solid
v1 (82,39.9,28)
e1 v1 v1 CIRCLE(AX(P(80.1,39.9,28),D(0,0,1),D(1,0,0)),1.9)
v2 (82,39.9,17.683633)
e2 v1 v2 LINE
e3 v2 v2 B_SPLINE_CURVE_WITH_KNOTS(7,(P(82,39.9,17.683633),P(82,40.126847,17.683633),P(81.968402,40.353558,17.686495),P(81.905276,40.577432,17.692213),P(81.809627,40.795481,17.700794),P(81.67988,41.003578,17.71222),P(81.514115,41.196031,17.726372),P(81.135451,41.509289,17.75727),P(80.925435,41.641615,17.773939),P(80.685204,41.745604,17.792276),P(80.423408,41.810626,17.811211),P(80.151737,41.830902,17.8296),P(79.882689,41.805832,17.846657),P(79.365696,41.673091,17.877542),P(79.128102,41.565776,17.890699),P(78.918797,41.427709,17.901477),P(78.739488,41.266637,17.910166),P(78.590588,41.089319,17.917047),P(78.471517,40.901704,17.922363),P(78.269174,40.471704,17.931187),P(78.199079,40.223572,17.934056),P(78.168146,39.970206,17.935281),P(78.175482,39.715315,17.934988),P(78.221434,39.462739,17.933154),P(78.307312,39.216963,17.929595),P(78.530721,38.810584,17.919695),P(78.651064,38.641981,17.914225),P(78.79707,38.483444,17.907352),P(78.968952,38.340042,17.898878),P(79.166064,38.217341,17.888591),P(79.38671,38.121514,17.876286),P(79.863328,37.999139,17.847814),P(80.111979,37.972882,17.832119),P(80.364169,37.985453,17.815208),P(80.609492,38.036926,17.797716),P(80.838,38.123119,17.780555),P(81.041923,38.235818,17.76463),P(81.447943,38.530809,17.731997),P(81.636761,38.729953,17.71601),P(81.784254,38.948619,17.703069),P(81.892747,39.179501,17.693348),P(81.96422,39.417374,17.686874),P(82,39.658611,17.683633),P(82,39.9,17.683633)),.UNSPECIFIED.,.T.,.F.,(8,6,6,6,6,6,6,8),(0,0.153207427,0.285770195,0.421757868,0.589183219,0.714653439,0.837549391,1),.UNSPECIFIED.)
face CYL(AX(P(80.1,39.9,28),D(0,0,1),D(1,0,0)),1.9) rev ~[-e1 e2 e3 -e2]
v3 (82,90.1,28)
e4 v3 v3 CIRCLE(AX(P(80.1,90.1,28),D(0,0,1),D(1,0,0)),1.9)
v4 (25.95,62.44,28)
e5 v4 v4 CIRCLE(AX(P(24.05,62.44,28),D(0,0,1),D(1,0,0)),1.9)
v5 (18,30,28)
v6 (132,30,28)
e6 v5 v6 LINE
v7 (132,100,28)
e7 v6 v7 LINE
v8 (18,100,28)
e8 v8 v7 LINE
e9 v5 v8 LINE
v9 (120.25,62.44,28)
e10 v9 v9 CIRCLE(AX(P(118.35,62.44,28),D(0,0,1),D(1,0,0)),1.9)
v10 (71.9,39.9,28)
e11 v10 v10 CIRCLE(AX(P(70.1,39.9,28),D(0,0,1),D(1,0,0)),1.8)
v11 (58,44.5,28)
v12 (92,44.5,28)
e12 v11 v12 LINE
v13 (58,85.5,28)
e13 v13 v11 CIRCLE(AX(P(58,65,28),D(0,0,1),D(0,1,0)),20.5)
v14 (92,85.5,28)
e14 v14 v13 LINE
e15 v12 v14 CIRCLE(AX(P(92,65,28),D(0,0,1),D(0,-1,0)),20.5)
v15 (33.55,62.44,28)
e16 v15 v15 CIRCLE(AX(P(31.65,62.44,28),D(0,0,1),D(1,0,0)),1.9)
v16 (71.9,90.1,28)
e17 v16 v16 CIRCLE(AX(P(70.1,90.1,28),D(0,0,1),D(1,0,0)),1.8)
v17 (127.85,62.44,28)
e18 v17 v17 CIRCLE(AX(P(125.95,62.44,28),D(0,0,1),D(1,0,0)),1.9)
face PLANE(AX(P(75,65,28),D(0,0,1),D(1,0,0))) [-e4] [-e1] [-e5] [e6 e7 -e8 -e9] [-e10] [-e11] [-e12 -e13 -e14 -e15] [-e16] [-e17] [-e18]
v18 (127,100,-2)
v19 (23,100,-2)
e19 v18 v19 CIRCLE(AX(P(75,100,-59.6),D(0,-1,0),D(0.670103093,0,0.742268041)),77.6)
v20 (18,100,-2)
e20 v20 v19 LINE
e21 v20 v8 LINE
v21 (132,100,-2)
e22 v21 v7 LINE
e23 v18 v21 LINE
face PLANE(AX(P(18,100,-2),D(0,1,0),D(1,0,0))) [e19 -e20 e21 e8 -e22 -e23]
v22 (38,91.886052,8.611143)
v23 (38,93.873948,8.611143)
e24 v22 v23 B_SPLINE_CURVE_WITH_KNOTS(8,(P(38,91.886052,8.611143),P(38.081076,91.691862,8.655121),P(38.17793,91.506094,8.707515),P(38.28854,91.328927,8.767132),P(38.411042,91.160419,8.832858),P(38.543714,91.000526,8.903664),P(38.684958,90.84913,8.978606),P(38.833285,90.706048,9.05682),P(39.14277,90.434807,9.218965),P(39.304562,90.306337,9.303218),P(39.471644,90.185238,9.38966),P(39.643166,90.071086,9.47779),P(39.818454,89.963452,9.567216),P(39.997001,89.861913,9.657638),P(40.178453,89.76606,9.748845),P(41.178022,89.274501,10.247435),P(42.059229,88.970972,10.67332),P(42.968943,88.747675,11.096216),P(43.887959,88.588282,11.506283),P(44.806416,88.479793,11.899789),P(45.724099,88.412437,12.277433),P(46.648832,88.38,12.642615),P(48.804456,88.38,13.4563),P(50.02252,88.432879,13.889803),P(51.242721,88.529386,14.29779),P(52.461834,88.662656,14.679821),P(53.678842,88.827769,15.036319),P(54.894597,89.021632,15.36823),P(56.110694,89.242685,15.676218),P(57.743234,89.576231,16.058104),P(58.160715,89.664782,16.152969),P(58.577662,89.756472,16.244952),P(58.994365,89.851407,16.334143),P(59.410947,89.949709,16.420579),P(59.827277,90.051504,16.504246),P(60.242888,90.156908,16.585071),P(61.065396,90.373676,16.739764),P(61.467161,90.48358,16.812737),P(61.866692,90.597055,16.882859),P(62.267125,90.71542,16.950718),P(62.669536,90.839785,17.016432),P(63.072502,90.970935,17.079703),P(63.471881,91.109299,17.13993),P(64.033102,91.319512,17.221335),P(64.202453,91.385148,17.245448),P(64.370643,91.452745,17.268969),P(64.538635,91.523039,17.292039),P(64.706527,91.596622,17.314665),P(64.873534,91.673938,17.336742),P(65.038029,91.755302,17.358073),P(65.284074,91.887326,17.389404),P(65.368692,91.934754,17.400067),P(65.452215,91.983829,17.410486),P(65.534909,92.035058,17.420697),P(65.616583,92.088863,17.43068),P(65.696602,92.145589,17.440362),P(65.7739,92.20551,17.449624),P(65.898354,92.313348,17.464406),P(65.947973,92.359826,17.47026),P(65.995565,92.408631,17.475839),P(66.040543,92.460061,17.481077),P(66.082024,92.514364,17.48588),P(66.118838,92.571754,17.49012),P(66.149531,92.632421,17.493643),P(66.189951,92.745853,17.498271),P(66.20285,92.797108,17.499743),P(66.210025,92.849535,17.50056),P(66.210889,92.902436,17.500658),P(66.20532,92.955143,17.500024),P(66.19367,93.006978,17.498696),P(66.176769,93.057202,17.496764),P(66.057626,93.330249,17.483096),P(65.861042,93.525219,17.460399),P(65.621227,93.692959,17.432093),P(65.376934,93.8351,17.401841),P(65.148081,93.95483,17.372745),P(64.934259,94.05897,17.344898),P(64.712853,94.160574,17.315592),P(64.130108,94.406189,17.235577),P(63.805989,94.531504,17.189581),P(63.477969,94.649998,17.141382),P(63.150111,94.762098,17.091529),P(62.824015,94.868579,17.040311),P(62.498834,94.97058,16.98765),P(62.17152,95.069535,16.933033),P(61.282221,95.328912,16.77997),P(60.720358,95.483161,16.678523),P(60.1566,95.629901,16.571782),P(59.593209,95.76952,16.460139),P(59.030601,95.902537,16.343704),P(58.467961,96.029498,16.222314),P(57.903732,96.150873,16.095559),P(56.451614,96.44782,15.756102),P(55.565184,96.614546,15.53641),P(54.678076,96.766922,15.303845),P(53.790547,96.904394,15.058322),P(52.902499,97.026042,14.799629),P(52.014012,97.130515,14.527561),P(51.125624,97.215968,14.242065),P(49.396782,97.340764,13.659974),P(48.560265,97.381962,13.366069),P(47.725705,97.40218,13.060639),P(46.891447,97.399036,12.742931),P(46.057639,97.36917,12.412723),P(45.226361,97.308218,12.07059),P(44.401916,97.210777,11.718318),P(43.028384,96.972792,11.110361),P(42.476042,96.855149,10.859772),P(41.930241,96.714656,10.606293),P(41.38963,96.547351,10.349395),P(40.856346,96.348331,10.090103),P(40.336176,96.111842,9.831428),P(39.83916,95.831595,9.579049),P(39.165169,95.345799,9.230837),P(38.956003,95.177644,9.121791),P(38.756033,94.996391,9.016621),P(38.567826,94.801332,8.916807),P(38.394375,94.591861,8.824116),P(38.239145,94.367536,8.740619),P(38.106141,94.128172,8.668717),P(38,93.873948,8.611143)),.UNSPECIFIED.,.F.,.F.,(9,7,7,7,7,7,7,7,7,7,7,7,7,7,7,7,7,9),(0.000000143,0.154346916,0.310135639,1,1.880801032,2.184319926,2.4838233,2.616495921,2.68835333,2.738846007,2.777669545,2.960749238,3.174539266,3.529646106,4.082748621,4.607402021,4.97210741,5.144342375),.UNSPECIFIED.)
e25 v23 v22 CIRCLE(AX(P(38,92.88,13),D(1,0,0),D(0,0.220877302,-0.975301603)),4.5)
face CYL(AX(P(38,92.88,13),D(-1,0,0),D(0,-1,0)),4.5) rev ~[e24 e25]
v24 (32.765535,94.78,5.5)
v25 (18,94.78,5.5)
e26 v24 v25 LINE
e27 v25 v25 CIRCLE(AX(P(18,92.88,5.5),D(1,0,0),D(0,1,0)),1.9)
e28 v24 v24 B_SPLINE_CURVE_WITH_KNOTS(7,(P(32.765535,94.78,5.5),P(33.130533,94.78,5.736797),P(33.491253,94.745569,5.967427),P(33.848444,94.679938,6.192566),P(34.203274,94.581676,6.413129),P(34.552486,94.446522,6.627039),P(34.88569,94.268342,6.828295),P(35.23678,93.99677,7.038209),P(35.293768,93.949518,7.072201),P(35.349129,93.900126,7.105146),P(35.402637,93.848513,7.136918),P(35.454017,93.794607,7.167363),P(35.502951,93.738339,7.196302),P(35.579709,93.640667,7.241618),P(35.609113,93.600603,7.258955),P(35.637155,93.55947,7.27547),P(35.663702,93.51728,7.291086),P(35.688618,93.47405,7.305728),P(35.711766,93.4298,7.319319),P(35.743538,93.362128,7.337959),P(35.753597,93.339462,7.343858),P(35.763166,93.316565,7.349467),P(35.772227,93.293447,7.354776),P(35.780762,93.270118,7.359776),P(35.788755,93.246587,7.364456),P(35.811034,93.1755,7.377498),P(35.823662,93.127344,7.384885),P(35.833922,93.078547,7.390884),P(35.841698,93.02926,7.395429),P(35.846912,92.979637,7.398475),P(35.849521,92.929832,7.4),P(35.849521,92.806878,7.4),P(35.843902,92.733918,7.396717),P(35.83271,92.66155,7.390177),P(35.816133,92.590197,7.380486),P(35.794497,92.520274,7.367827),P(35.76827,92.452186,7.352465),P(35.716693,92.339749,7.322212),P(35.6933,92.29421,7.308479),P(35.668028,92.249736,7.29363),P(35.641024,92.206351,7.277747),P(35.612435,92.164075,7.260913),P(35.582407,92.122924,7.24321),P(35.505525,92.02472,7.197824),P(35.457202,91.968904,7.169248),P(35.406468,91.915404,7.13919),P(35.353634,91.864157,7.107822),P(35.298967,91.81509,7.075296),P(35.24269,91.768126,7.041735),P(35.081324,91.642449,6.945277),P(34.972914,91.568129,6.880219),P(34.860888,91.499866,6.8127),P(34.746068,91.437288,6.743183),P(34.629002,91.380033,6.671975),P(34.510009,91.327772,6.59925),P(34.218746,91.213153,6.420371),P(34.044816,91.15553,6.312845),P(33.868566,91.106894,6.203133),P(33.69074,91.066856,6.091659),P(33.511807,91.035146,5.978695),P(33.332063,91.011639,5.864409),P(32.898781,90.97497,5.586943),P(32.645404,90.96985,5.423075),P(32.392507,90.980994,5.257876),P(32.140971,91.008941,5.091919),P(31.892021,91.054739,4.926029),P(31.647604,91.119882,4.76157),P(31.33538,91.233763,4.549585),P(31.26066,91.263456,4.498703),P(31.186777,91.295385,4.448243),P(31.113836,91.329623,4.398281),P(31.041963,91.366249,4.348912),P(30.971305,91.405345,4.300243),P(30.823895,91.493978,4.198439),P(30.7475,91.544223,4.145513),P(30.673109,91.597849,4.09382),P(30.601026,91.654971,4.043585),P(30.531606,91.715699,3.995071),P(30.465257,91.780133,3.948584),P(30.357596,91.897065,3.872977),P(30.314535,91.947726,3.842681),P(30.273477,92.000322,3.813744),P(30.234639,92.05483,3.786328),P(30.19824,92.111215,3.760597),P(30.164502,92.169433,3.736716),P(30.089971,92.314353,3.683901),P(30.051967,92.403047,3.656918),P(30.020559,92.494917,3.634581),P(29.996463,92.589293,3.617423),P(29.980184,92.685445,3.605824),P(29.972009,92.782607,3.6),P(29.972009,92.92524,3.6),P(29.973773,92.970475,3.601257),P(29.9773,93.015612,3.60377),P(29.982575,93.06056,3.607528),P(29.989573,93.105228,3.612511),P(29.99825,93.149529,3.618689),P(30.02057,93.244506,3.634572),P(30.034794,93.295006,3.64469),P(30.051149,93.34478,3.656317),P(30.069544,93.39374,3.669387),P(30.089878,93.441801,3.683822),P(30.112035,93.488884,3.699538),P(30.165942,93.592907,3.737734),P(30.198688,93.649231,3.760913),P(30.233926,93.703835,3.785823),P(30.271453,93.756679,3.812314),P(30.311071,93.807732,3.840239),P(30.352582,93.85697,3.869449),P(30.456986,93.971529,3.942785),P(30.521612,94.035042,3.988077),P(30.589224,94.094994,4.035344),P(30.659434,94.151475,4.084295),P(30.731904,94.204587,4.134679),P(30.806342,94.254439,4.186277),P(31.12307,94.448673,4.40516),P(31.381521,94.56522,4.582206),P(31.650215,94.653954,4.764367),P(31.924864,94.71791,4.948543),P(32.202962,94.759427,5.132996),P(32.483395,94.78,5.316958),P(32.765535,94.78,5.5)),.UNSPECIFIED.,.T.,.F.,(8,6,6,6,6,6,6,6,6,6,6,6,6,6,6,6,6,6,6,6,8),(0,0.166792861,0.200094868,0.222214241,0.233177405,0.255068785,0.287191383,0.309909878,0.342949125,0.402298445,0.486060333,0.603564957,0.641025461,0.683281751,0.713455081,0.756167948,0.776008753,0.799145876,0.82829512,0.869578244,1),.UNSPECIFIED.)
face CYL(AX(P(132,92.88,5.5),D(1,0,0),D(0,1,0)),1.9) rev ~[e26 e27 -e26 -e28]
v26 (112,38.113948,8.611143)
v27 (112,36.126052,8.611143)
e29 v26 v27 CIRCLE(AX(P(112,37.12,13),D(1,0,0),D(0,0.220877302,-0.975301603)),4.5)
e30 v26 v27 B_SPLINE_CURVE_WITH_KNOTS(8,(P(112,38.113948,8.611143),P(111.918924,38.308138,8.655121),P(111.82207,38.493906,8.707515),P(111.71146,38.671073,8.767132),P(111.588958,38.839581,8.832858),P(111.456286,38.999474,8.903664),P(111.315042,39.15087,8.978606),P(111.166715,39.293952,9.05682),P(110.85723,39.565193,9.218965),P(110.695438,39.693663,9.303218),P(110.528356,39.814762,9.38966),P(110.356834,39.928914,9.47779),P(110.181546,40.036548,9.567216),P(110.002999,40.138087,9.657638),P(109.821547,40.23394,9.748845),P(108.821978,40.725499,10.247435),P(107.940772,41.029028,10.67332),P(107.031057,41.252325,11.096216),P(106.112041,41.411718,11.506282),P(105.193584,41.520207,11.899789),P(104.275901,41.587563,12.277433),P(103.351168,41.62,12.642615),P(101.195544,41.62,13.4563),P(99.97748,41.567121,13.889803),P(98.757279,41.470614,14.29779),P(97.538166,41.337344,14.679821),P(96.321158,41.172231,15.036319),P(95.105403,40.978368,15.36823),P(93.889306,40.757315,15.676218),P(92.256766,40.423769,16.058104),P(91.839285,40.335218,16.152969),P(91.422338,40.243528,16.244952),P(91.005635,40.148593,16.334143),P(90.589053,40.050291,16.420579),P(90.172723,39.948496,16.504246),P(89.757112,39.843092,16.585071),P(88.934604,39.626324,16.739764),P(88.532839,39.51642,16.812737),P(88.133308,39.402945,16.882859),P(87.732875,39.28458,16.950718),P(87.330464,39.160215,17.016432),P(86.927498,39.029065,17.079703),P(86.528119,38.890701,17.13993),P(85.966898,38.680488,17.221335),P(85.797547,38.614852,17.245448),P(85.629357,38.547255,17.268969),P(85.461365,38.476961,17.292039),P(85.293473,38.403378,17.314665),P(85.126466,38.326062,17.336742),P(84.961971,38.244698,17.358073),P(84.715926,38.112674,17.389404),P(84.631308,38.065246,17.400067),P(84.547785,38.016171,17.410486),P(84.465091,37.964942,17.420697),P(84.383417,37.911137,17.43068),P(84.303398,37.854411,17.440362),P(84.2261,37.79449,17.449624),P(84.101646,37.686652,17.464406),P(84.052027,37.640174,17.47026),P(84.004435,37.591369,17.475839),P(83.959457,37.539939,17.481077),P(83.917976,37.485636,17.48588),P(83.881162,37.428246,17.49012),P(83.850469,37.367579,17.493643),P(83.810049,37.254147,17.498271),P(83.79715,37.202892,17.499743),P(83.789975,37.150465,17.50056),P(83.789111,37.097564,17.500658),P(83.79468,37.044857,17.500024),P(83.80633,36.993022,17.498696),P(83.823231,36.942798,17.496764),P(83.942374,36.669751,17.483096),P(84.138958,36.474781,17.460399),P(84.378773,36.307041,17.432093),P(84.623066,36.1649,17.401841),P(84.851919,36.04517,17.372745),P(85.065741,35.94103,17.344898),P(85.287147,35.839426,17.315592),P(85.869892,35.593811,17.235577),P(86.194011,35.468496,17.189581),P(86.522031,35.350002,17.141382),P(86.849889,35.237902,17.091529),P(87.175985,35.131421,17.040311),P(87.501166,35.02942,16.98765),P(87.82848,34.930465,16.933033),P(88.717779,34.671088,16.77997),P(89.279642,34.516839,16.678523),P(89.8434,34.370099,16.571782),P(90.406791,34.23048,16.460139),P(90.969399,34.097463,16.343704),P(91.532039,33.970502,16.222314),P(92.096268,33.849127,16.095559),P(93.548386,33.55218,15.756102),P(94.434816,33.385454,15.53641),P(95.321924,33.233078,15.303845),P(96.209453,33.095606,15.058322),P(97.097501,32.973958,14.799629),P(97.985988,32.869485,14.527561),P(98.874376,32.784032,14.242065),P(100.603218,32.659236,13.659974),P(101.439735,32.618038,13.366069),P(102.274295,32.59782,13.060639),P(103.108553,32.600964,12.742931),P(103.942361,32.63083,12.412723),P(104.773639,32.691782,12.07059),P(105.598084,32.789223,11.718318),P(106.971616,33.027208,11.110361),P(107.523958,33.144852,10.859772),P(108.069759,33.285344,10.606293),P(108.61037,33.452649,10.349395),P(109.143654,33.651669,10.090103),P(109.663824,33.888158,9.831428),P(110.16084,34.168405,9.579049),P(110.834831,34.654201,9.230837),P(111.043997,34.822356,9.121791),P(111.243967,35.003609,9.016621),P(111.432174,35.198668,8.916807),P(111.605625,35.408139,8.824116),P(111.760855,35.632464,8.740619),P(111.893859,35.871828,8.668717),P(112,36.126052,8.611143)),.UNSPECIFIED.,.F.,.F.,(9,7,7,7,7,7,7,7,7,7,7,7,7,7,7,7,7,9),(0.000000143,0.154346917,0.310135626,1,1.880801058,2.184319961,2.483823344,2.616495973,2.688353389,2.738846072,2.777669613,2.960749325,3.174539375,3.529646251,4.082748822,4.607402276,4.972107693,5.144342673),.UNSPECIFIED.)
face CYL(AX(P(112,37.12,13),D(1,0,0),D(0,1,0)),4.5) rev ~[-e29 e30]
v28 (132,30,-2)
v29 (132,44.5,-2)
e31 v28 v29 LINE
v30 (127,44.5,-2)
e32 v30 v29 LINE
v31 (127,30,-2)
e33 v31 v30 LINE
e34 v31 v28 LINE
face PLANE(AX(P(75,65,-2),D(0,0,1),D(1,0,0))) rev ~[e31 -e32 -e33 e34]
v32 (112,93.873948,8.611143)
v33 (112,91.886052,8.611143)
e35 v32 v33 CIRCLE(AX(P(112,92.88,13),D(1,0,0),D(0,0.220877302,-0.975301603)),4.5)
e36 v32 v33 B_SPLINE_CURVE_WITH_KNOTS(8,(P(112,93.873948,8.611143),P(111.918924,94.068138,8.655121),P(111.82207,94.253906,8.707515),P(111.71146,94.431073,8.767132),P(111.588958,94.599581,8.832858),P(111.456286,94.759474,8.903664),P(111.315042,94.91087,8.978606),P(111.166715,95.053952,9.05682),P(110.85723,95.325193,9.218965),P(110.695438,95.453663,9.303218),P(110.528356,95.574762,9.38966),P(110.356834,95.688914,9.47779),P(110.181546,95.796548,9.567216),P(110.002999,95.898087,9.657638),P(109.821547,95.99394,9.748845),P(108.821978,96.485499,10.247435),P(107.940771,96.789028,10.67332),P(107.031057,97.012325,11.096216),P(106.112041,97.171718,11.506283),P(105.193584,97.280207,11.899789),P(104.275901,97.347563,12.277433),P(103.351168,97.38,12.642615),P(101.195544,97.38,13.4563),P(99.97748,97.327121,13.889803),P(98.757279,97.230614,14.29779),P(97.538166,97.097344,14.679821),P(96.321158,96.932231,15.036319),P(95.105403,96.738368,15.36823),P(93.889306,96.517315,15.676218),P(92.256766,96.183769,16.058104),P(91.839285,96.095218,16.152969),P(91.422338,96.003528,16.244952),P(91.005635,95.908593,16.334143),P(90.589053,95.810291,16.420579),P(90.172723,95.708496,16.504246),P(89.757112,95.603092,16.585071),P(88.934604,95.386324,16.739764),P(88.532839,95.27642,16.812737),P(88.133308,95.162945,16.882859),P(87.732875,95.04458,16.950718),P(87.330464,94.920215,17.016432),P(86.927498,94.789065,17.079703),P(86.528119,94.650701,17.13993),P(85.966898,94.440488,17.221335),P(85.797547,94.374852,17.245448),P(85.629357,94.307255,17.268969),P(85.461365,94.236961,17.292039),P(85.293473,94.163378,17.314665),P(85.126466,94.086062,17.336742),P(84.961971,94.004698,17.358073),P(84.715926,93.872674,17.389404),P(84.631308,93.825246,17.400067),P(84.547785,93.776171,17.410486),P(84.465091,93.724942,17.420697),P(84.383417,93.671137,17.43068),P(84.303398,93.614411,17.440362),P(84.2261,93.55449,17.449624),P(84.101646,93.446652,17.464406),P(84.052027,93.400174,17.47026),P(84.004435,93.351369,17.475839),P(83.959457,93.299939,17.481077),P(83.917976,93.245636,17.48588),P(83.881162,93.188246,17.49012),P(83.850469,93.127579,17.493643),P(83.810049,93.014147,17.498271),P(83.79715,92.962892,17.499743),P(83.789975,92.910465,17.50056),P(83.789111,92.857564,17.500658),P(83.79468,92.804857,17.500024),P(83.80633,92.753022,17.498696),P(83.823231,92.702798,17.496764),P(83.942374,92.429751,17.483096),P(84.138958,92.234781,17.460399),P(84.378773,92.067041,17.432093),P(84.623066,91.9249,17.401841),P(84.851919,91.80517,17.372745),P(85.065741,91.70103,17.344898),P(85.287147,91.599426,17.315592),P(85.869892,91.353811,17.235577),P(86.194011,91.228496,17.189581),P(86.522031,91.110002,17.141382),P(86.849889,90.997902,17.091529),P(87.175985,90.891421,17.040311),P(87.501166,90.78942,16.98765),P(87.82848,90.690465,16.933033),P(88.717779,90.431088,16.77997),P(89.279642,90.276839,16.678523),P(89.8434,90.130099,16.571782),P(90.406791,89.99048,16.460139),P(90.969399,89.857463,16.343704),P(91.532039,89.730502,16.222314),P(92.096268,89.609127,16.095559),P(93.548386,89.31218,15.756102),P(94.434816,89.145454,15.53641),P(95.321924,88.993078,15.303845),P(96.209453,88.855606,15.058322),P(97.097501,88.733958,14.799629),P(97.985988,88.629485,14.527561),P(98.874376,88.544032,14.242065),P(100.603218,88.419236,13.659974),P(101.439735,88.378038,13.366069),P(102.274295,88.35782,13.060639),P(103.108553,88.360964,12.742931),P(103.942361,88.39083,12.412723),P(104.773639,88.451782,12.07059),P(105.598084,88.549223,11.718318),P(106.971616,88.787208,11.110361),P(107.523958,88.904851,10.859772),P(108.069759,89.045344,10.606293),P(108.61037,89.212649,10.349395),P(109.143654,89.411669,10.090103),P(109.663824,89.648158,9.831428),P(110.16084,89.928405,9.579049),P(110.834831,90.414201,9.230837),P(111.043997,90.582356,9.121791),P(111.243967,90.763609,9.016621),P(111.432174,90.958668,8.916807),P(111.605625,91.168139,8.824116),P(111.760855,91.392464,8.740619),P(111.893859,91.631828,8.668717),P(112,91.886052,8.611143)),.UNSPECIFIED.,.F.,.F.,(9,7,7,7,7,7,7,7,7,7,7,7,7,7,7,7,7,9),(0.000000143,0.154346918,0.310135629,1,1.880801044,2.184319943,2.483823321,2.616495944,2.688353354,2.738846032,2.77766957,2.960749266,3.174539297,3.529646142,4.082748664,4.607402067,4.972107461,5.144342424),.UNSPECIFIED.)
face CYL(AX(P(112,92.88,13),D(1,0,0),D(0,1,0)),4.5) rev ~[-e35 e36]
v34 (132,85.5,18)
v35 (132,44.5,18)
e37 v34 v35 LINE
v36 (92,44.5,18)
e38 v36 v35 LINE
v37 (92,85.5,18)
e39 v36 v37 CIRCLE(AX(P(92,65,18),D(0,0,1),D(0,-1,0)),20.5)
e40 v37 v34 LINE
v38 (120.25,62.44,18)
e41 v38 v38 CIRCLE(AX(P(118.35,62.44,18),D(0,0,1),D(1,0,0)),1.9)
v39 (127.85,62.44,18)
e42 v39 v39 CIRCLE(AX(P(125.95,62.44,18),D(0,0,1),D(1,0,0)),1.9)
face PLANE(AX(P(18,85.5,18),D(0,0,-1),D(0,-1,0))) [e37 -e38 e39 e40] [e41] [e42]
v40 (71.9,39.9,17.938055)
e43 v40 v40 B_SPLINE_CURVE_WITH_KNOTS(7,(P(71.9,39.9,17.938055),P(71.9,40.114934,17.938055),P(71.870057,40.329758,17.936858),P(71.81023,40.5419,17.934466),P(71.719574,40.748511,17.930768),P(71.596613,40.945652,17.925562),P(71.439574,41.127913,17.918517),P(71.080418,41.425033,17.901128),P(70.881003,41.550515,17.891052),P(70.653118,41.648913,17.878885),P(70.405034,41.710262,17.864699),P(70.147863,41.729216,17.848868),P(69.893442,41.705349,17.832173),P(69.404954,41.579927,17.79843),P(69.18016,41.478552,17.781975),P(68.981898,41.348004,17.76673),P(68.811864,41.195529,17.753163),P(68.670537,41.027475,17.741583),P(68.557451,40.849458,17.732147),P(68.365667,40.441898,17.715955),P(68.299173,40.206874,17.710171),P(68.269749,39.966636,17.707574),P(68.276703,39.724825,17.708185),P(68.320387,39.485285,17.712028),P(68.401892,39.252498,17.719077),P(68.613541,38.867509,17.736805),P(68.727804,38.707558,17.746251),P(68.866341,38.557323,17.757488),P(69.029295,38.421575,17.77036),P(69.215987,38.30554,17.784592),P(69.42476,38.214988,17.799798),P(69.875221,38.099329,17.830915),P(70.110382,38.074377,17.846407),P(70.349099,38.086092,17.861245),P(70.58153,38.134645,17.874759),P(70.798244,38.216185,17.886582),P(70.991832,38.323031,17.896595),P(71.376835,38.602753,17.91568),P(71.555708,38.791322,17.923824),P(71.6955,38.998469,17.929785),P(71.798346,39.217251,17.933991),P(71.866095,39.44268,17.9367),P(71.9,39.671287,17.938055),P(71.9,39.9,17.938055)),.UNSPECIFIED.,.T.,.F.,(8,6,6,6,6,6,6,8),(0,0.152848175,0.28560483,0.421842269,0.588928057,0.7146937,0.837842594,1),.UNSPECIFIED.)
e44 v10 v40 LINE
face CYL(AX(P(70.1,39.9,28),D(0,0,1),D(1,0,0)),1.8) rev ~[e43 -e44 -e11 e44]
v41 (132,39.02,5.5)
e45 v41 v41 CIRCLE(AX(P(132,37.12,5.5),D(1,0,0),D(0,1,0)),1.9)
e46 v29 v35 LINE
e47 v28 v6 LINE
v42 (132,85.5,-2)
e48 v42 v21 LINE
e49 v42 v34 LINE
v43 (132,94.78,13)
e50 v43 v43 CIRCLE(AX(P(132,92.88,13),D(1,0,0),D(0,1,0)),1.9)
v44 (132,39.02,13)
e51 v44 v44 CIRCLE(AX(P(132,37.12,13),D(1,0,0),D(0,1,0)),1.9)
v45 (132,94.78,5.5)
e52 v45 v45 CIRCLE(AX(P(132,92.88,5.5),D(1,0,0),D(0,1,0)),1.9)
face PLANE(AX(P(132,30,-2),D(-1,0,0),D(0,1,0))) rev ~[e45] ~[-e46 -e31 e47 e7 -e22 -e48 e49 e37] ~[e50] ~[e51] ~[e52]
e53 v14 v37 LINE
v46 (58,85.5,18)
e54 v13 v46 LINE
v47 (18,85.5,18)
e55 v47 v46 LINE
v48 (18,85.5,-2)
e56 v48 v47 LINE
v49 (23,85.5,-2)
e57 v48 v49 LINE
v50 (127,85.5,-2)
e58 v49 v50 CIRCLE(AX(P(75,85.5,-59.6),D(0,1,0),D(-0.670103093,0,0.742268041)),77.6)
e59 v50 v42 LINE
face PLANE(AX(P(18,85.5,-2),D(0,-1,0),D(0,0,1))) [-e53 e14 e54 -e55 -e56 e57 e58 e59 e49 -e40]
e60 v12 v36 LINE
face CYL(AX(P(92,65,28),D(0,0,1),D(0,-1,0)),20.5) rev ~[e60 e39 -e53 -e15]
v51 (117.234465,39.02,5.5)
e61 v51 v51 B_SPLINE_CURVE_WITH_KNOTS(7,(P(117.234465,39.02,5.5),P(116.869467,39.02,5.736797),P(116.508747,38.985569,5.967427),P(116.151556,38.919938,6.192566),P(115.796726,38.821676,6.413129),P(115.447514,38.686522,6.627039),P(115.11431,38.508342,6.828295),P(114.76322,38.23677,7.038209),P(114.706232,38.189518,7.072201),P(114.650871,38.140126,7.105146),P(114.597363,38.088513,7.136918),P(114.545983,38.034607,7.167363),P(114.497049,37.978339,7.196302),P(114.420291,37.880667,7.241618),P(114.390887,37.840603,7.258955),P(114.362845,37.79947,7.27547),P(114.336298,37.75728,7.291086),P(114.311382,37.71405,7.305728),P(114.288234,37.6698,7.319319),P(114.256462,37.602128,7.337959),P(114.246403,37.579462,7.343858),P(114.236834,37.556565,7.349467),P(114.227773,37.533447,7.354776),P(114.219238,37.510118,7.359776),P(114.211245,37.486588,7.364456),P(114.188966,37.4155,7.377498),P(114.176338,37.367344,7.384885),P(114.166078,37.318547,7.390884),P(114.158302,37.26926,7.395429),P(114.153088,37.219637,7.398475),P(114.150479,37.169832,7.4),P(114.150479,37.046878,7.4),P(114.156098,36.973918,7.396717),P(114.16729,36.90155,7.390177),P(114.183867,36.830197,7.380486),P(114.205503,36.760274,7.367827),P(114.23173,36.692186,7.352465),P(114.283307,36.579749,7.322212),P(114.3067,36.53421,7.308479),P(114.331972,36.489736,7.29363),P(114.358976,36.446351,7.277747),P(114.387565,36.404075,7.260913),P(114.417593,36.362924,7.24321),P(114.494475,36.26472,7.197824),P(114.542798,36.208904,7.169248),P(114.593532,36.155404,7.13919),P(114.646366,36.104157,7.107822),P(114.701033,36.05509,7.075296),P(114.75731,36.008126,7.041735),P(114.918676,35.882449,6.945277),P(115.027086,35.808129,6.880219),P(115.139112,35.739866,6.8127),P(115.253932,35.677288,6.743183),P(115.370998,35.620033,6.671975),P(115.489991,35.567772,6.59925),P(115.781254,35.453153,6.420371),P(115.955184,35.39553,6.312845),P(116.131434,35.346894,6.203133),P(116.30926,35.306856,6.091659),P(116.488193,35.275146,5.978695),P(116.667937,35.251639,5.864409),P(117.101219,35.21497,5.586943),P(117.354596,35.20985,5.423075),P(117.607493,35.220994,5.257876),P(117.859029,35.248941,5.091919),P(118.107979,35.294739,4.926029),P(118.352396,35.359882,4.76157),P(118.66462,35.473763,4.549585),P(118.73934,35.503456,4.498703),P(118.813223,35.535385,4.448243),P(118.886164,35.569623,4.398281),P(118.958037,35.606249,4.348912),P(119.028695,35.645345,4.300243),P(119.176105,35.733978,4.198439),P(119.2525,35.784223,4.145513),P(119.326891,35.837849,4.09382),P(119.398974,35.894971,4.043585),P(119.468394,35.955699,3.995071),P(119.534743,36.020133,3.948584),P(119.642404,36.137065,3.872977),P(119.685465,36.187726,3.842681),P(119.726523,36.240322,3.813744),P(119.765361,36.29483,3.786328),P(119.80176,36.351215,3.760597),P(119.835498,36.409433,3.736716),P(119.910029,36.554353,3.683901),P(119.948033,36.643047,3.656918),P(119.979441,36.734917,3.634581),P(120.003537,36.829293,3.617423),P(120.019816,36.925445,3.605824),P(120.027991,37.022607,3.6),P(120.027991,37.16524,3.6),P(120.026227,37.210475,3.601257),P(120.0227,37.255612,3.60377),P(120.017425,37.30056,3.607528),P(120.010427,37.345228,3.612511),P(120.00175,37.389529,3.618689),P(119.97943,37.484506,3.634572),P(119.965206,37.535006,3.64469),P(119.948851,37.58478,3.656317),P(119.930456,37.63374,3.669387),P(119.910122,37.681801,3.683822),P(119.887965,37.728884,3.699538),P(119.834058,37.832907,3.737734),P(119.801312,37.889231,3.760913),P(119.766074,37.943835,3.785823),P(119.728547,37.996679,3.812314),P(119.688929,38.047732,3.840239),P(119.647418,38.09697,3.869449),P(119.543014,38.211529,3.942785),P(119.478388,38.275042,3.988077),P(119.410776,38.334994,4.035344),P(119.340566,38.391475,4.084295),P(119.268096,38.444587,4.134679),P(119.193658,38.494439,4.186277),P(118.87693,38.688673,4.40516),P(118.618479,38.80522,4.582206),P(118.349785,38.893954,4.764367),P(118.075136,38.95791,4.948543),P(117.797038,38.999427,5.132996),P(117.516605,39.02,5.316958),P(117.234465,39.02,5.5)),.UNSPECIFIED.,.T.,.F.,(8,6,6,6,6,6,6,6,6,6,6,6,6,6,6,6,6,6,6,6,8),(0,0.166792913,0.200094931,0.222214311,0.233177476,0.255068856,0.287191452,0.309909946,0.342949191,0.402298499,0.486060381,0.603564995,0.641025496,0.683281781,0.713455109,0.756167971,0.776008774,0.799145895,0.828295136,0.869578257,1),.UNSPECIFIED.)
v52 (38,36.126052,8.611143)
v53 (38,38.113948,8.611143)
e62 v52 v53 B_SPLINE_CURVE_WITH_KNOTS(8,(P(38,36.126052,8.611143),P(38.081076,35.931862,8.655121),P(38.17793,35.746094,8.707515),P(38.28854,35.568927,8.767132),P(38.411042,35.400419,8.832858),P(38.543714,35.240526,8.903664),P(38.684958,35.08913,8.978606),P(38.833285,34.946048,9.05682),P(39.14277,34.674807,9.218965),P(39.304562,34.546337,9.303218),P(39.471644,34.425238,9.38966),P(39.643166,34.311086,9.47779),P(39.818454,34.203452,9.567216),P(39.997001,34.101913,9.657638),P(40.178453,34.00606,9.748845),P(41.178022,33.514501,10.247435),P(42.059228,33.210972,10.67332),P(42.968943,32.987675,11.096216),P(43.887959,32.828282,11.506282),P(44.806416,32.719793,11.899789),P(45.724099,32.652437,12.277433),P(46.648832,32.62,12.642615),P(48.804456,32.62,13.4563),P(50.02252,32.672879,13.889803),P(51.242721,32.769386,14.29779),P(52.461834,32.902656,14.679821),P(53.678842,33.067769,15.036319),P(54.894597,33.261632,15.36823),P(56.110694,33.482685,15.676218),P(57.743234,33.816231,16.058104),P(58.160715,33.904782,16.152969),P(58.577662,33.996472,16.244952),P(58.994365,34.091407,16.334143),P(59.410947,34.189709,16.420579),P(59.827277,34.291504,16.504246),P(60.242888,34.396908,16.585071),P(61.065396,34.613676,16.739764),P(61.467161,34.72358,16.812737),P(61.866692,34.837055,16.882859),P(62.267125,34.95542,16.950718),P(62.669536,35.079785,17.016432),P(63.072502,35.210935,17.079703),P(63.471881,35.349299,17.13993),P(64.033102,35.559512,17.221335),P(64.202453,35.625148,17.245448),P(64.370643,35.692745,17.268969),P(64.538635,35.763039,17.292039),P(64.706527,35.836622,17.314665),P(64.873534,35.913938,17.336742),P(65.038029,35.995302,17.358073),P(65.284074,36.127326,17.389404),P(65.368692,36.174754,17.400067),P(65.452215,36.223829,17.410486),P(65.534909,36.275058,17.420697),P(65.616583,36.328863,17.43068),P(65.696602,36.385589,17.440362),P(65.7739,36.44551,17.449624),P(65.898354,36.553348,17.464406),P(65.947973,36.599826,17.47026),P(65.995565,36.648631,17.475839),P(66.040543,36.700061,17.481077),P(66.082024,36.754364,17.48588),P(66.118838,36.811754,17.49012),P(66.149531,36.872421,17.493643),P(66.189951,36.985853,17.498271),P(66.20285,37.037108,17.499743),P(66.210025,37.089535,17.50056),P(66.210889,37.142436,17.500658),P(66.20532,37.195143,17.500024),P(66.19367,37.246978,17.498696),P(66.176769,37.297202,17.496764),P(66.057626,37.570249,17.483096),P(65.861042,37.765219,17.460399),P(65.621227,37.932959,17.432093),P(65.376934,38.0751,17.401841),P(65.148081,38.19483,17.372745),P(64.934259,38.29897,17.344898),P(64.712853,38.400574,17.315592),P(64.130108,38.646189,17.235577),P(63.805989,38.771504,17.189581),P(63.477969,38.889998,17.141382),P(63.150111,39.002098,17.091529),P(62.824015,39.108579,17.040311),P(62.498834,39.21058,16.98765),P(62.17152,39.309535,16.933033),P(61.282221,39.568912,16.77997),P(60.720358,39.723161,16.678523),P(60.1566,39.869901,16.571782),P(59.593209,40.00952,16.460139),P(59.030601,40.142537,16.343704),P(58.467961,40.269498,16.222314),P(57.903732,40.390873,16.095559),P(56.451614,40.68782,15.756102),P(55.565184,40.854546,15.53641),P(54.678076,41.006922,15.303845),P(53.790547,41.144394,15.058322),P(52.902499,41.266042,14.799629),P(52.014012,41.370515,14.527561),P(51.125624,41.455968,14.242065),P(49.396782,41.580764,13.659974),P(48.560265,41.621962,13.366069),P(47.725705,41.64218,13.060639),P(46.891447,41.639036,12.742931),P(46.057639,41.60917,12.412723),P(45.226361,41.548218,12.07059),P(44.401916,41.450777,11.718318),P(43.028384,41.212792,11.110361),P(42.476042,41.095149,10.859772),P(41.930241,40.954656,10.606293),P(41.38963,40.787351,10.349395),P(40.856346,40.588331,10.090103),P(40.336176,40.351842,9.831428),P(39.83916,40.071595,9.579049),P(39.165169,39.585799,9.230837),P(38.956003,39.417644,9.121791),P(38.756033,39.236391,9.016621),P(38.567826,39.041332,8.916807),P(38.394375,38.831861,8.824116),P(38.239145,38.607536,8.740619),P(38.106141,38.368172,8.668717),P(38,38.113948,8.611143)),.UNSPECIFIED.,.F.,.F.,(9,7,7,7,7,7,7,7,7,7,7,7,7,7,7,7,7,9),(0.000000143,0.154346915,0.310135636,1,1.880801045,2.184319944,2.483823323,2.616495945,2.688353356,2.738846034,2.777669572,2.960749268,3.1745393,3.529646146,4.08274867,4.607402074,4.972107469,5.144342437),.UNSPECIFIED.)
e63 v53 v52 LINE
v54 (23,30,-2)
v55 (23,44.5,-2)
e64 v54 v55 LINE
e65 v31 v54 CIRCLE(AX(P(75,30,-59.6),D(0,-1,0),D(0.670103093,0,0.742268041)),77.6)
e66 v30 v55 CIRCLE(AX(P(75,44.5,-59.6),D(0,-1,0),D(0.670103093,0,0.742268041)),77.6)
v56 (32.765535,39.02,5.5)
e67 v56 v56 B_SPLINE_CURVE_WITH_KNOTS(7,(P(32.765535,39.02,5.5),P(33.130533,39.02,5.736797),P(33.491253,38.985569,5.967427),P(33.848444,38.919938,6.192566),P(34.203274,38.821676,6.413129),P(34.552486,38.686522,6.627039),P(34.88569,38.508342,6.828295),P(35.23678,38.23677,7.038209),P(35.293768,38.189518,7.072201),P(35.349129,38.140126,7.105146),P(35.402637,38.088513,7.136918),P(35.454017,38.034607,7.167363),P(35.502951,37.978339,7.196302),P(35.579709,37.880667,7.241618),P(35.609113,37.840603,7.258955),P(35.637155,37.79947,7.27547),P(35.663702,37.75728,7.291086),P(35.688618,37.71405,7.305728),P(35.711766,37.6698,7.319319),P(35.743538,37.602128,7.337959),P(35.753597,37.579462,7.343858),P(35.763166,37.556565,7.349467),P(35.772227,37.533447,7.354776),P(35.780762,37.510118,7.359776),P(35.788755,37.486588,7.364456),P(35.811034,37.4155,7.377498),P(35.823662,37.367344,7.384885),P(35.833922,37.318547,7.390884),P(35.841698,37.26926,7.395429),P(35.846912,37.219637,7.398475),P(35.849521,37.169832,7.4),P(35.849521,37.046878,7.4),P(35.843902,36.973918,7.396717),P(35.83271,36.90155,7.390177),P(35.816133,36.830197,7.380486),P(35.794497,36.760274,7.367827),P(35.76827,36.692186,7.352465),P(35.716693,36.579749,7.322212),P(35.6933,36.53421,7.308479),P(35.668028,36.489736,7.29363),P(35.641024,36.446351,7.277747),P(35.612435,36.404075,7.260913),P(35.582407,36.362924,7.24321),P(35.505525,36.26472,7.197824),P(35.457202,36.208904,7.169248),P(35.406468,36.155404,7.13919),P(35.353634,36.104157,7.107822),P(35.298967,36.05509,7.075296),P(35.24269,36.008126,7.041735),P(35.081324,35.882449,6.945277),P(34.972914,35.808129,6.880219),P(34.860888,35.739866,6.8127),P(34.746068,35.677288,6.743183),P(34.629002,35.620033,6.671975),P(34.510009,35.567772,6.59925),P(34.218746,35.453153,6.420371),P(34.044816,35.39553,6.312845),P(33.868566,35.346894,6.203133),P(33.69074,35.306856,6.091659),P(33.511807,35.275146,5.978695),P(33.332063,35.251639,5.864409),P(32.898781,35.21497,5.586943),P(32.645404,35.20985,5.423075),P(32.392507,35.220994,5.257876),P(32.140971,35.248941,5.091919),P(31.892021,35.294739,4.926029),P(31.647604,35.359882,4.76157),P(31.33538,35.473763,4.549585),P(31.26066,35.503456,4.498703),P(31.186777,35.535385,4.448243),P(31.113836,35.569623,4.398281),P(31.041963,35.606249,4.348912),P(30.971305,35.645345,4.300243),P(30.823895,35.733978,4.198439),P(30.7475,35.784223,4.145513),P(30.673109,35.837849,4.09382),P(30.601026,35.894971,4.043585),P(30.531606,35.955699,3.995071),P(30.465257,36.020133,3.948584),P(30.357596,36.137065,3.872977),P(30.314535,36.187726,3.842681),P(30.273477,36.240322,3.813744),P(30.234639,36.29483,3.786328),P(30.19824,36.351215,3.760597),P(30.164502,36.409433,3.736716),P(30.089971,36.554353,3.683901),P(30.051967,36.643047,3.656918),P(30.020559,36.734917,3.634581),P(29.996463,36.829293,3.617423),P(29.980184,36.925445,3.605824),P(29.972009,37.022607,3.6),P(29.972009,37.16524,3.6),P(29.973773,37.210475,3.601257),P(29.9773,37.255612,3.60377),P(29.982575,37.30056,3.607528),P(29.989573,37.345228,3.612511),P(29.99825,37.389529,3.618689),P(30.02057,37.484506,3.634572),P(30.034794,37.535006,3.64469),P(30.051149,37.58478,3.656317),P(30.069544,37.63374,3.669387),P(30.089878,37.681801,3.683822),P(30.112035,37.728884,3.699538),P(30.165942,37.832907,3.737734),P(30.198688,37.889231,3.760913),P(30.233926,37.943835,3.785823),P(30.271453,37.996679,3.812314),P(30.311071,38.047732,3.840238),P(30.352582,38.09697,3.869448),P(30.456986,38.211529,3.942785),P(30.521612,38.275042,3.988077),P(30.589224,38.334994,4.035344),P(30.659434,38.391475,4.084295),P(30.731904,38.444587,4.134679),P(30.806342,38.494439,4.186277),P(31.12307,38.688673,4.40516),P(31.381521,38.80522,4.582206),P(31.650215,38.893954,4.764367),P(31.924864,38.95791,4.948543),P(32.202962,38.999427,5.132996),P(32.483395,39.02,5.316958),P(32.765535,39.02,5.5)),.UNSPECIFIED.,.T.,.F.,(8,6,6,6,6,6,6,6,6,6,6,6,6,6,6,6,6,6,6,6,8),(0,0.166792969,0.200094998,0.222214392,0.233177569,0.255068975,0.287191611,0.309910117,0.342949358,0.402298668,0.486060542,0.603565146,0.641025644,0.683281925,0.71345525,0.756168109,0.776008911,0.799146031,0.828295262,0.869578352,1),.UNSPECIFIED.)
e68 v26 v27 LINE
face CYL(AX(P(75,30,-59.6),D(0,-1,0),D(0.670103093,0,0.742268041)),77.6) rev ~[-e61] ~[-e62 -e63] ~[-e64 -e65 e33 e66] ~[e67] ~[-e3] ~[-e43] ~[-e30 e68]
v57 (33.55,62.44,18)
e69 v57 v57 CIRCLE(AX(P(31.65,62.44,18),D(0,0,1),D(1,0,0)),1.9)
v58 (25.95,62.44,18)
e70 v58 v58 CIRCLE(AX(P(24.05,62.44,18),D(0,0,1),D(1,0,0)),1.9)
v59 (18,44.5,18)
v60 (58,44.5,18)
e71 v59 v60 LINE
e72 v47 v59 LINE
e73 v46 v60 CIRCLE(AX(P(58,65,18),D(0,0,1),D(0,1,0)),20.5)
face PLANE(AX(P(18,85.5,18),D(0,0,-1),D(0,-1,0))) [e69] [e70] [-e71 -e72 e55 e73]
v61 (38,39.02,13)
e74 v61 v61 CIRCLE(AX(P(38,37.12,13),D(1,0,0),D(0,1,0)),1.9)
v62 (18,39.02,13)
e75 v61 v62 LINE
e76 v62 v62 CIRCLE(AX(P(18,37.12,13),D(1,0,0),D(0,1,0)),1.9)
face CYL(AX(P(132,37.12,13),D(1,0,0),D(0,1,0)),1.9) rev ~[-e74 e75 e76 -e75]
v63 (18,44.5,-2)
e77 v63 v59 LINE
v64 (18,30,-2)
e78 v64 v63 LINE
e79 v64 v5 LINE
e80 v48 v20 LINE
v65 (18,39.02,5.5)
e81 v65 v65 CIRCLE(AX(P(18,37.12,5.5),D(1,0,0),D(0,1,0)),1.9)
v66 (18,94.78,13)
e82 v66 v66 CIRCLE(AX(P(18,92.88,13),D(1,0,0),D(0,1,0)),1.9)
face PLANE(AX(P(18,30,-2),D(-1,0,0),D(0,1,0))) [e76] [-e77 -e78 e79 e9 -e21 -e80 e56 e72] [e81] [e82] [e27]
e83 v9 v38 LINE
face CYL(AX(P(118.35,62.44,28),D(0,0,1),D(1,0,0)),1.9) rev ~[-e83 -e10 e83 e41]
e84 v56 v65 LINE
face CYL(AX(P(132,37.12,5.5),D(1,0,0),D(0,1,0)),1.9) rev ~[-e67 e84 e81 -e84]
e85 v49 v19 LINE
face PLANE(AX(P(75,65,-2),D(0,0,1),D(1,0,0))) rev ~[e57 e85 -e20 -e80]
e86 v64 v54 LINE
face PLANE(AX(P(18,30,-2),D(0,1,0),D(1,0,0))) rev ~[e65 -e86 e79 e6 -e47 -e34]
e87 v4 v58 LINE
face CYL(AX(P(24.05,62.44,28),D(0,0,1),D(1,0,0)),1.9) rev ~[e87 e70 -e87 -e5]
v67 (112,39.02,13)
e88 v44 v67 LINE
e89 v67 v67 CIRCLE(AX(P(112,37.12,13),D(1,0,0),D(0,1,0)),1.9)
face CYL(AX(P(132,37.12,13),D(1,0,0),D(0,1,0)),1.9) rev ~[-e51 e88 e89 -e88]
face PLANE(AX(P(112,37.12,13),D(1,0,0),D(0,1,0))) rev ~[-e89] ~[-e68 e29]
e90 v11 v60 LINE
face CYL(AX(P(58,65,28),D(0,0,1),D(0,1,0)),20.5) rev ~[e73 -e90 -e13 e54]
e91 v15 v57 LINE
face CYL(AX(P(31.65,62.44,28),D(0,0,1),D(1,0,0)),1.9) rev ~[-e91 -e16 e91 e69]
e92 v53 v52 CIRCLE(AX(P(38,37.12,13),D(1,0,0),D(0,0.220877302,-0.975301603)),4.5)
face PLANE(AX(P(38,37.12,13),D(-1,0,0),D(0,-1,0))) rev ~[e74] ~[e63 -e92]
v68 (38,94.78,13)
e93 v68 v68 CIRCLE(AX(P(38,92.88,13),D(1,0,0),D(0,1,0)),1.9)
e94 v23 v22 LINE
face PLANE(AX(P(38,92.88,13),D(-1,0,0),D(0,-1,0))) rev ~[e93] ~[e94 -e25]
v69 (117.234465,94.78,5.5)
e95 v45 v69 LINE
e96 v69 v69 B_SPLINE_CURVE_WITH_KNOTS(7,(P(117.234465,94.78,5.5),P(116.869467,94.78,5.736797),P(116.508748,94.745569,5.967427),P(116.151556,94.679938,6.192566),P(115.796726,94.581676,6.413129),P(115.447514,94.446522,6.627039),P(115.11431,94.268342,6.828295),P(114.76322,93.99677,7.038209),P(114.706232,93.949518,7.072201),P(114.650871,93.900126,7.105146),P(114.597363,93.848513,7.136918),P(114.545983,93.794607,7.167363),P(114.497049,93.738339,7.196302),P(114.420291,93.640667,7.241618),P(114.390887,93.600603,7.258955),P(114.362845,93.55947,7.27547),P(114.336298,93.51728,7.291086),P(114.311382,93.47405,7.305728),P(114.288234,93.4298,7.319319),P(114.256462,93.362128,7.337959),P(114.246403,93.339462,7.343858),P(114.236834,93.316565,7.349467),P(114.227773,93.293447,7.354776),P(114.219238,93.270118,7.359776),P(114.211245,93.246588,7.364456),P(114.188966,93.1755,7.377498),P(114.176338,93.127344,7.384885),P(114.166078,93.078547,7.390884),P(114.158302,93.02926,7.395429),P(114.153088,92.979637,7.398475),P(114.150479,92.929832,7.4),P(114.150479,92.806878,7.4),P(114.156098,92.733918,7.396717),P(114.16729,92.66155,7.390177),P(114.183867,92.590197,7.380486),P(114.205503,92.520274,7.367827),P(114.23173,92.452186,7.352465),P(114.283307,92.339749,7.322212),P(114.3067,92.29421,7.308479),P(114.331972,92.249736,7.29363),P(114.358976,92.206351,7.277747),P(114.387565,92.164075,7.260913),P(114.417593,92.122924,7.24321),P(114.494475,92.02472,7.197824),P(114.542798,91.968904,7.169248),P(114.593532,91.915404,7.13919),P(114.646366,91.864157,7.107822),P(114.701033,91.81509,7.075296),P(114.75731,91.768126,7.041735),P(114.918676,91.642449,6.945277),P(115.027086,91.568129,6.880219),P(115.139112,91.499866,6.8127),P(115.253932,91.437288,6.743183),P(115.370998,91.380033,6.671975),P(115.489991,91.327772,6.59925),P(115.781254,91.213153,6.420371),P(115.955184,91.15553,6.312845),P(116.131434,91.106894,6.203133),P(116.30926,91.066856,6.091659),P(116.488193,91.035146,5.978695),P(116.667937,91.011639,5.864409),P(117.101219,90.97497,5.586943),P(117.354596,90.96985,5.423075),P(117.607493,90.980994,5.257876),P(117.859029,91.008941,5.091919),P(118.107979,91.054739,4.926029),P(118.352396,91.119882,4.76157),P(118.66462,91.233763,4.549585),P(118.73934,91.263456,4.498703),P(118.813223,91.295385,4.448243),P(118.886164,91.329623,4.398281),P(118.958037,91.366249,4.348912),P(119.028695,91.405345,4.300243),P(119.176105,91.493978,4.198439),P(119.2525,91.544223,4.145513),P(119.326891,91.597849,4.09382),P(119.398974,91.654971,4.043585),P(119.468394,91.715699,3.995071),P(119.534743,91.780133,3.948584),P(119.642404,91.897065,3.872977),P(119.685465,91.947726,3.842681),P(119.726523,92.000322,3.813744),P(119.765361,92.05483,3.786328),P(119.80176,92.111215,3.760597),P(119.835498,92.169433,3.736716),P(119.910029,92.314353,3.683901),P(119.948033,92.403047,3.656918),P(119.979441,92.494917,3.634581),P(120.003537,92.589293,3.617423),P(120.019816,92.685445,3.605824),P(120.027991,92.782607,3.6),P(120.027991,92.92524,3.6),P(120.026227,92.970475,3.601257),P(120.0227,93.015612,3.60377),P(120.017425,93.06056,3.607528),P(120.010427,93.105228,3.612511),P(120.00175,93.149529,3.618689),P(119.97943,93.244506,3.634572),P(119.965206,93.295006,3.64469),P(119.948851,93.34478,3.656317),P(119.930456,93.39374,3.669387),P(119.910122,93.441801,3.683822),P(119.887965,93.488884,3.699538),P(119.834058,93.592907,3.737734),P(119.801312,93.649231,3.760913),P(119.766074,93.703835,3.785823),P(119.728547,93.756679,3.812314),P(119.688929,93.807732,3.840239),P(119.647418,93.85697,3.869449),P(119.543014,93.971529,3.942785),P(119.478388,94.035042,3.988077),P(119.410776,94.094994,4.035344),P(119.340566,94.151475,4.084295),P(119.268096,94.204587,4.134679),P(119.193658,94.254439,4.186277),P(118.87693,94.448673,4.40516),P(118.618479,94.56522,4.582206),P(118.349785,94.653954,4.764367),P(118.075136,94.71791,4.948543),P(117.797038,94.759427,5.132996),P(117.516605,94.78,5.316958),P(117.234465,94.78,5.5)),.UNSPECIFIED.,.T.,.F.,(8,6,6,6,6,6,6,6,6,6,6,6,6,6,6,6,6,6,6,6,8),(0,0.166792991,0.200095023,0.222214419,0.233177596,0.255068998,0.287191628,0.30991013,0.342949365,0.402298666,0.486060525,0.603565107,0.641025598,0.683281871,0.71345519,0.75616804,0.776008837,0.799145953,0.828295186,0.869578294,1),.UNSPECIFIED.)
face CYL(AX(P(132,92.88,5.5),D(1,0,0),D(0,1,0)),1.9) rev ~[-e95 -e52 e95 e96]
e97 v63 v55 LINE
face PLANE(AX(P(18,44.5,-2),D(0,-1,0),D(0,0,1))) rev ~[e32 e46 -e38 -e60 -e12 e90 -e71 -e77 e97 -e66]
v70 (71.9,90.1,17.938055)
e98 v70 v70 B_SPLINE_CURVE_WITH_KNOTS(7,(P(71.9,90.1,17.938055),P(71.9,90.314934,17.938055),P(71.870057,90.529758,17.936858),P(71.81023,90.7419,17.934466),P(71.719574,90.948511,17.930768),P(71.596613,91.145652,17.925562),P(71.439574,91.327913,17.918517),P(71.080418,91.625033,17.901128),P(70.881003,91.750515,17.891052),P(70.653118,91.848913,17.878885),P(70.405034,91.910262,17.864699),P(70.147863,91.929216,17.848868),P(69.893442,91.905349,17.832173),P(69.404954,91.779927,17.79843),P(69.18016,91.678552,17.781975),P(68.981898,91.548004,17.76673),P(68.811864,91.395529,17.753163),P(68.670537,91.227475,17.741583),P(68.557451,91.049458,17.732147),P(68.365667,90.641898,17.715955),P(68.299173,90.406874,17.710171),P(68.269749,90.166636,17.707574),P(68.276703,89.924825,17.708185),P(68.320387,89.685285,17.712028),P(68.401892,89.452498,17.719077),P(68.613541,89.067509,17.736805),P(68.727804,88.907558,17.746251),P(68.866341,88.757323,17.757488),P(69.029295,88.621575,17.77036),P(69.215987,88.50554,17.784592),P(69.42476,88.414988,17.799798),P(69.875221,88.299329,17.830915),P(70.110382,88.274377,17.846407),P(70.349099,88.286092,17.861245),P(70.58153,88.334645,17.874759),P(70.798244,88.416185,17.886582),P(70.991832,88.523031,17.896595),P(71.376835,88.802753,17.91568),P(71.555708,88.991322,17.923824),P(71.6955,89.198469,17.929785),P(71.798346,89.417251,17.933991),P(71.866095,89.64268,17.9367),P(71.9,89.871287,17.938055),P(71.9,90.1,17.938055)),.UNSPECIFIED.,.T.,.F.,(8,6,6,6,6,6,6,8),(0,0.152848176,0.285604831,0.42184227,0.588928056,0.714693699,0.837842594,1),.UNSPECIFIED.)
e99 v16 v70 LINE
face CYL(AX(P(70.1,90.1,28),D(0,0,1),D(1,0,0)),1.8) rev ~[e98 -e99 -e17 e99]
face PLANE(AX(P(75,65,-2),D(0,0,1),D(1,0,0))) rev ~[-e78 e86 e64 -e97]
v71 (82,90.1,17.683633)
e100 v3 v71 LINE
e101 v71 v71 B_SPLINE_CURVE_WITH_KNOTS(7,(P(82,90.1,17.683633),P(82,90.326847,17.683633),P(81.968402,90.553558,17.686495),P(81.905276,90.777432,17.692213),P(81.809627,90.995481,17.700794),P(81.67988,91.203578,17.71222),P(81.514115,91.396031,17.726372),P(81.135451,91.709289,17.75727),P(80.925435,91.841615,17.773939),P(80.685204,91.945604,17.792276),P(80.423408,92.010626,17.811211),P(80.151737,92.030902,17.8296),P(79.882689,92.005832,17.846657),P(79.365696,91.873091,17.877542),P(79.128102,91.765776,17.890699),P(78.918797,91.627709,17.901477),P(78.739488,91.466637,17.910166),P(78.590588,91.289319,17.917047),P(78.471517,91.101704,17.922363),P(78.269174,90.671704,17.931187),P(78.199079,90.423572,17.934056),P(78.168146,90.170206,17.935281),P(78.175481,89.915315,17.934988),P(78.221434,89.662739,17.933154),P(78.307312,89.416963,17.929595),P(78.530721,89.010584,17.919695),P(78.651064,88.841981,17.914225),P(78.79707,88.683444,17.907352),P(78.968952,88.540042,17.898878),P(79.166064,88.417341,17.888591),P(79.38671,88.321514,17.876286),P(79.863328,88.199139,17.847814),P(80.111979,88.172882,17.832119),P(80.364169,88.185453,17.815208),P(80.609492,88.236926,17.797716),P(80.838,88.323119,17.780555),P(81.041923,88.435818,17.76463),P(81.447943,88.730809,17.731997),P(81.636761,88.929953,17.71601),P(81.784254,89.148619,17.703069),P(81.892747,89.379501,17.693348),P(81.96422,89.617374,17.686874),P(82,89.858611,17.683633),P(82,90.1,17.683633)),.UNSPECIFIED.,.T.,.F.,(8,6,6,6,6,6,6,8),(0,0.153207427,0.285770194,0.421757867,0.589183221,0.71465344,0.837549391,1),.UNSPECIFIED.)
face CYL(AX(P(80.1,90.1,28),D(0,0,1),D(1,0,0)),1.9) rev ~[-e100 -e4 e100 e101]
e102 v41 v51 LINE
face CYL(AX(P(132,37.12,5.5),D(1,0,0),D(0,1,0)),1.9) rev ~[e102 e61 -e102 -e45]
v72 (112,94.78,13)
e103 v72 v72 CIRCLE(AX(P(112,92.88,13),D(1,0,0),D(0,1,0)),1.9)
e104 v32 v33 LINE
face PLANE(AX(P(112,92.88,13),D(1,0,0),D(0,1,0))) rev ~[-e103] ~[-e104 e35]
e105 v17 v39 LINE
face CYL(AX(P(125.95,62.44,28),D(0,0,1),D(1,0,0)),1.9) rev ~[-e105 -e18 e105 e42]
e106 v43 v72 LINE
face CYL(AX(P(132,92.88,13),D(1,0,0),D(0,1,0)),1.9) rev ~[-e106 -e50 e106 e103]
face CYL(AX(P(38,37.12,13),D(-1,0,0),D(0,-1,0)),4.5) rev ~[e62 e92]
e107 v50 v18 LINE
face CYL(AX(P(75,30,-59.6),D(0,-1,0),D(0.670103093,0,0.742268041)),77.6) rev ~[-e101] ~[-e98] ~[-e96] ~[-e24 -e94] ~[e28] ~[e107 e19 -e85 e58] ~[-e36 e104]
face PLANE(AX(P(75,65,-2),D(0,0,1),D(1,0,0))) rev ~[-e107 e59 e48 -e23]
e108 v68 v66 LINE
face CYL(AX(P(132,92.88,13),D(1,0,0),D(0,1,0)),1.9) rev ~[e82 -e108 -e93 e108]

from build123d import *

# Parameters (mm, degrees)
SKETCH090_W     = 114
SKETCH090_H     = 70
PAD024_DEPTH    = 30
POCKET058_DEPTH = 30.001
POCKET059_DEPTH = 70.001
SKETCH092_W     = 41
SKETCH092_H     = 20
POCKET060_DEPTH = 114.001
SKETCH093_R     = 1.8
SKETCH093_R_2   = 1.9
POCKET061_DEPTH = 30.001
SKETCH094_R     = 1.9
POCKET062_DEPTH = 114.001
SKETCH095_R     = 4.5
POCKET063_DEPTH = 29
SKETCH096_R     = 4.5
POCKET064_DEPTH = 29
SKETCH097_R     = 1.9
POCKET065_DEPTH = 30.001


with BuildPart() as part:
    # Sketch090 → Pad024 (new body)
    with BuildSketch(Plane.XY):
        with Locations((57, 35)):
            Rectangle(SKETCH090_W, SKETCH090_H)
    extrude(amount=PAD024_DEPTH)

    # Sketch091 (on Face6 of Pad024) → Pocket058 (cut, through all)
    with BuildSketch(Plane.XY.offset(30)):
        with BuildLine():
            Line((40, 14.5), (74, 14.5))
            ThreePointArc((74, 14.5), (94.5, 35), (74, 55.5))
            Line((74, 55.5), (40, 55.5))
            ThreePointArc((40, 55.5), (19.5, 35), (40, 14.5))
        make_face()
    extrude(amount=-POCKET058_DEPTH, mode=Mode.SUBTRACT)

    # Sketch069 (on Face1 of Pocket058) → Pocket059 (cut, through all)
    with BuildSketch(Plane.XZ):
        with BuildLine():
            Line((5, 0), (109, 0))
            ThreePointArc((109, 0), (57, 20), (5, 0))
        make_face()
    extrude(amount=-POCKET059_DEPTH, mode=Mode.SUBTRACT)

    # Sketch092 (on Face7 of Pocket059) → Pocket060 (cut, through all)
    with BuildSketch(Plane(origin=(0, 0, 0), x_dir=(0, -1, 0), z_dir=(-1, 0, 0))):
        with Locations((-35, 10)):
            Rectangle(SKETCH092_W, SKETCH092_H)
    extrude(amount=-POCKET060_DEPTH, mode=Mode.SUBTRACT)

    # Sketch093 (on Face6 of Pocket060) → Pocket061 (cut, through all)
    with BuildSketch(Plane.XY.offset(30)):
        with Locations((52.1, 60.1)):
            Circle(SKETCH093_R)
        with Locations((62.1, 60.1)):
            Circle(SKETCH093_R_2)
        with Locations((52.1, 9.9)):
            Circle(SKETCH093_R)
        with Locations((62.1, 9.9)):
            Circle(SKETCH093_R_2)
    extrude(amount=-POCKET061_DEPTH, mode=Mode.SUBTRACT)

    # Sketch094 (on Face5 of Pocket061) → Pocket062 (cut, through all)
    with BuildSketch(Plane.YZ.offset(114)):
        with Locations((7.12, 15)):
            Circle(SKETCH094_R)
        with Locations((7.12, 7.5)):
            Circle(SKETCH094_R)
        with Locations((62.88, 15)):
            Circle(SKETCH094_R)
        with Locations((62.88, 7.5)):
            Circle(SKETCH094_R)
    extrude(amount=-POCKET062_DEPTH, mode=Mode.SUBTRACT)

    # Sketch095 (on DatumPlane) → Pocket063 (cut)
    with BuildSketch(Plane.YZ.offset(94)):
        with Locations((7.12, 15)):
            Circle(SKETCH095_R)
        with Locations((62.88, 15)):
            Circle(SKETCH095_R)
    extrude(amount=-POCKET063_DEPTH, mode=Mode.SUBTRACT)

    # Sketch096 (on DatumPlane) → Pocket064 (cut)
    with BuildSketch(Plane(origin=(20, 0, 0), x_dir=(0, -1, 0), z_dir=(-1, 0, 0))):
        with Locations((-62.88, 15)):
            Circle(SKETCH096_R)
        with Locations((-7.12, 15)):
            Circle(SKETCH096_R)
    extrude(amount=-POCKET064_DEPTH, mode=Mode.SUBTRACT)

    # Sketch097 (on Face6 of Pocket064) → Pocket065 (cut, through all)
    with BuildSketch(Plane.XY.offset(30)):
        with Locations((100.35, 32.44)):
            Circle(SKETCH097_R)
        with Locations((107.95, 32.44)):
            Circle(SKETCH097_R)
        with Locations((6.05, 32.44)):
            Circle(SKETCH097_R)
        with Locations((13.65, 32.44)):
            Circle(SKETCH097_R)
    extrude(amount=-POCKET065_DEPTH, mode=Mode.SUBTRACT)


with BuildPart() as part_1:
    # Body010 placement: moved
    add(part.part.moved(Location((18, 30, -2))))


solid = part_1.part
